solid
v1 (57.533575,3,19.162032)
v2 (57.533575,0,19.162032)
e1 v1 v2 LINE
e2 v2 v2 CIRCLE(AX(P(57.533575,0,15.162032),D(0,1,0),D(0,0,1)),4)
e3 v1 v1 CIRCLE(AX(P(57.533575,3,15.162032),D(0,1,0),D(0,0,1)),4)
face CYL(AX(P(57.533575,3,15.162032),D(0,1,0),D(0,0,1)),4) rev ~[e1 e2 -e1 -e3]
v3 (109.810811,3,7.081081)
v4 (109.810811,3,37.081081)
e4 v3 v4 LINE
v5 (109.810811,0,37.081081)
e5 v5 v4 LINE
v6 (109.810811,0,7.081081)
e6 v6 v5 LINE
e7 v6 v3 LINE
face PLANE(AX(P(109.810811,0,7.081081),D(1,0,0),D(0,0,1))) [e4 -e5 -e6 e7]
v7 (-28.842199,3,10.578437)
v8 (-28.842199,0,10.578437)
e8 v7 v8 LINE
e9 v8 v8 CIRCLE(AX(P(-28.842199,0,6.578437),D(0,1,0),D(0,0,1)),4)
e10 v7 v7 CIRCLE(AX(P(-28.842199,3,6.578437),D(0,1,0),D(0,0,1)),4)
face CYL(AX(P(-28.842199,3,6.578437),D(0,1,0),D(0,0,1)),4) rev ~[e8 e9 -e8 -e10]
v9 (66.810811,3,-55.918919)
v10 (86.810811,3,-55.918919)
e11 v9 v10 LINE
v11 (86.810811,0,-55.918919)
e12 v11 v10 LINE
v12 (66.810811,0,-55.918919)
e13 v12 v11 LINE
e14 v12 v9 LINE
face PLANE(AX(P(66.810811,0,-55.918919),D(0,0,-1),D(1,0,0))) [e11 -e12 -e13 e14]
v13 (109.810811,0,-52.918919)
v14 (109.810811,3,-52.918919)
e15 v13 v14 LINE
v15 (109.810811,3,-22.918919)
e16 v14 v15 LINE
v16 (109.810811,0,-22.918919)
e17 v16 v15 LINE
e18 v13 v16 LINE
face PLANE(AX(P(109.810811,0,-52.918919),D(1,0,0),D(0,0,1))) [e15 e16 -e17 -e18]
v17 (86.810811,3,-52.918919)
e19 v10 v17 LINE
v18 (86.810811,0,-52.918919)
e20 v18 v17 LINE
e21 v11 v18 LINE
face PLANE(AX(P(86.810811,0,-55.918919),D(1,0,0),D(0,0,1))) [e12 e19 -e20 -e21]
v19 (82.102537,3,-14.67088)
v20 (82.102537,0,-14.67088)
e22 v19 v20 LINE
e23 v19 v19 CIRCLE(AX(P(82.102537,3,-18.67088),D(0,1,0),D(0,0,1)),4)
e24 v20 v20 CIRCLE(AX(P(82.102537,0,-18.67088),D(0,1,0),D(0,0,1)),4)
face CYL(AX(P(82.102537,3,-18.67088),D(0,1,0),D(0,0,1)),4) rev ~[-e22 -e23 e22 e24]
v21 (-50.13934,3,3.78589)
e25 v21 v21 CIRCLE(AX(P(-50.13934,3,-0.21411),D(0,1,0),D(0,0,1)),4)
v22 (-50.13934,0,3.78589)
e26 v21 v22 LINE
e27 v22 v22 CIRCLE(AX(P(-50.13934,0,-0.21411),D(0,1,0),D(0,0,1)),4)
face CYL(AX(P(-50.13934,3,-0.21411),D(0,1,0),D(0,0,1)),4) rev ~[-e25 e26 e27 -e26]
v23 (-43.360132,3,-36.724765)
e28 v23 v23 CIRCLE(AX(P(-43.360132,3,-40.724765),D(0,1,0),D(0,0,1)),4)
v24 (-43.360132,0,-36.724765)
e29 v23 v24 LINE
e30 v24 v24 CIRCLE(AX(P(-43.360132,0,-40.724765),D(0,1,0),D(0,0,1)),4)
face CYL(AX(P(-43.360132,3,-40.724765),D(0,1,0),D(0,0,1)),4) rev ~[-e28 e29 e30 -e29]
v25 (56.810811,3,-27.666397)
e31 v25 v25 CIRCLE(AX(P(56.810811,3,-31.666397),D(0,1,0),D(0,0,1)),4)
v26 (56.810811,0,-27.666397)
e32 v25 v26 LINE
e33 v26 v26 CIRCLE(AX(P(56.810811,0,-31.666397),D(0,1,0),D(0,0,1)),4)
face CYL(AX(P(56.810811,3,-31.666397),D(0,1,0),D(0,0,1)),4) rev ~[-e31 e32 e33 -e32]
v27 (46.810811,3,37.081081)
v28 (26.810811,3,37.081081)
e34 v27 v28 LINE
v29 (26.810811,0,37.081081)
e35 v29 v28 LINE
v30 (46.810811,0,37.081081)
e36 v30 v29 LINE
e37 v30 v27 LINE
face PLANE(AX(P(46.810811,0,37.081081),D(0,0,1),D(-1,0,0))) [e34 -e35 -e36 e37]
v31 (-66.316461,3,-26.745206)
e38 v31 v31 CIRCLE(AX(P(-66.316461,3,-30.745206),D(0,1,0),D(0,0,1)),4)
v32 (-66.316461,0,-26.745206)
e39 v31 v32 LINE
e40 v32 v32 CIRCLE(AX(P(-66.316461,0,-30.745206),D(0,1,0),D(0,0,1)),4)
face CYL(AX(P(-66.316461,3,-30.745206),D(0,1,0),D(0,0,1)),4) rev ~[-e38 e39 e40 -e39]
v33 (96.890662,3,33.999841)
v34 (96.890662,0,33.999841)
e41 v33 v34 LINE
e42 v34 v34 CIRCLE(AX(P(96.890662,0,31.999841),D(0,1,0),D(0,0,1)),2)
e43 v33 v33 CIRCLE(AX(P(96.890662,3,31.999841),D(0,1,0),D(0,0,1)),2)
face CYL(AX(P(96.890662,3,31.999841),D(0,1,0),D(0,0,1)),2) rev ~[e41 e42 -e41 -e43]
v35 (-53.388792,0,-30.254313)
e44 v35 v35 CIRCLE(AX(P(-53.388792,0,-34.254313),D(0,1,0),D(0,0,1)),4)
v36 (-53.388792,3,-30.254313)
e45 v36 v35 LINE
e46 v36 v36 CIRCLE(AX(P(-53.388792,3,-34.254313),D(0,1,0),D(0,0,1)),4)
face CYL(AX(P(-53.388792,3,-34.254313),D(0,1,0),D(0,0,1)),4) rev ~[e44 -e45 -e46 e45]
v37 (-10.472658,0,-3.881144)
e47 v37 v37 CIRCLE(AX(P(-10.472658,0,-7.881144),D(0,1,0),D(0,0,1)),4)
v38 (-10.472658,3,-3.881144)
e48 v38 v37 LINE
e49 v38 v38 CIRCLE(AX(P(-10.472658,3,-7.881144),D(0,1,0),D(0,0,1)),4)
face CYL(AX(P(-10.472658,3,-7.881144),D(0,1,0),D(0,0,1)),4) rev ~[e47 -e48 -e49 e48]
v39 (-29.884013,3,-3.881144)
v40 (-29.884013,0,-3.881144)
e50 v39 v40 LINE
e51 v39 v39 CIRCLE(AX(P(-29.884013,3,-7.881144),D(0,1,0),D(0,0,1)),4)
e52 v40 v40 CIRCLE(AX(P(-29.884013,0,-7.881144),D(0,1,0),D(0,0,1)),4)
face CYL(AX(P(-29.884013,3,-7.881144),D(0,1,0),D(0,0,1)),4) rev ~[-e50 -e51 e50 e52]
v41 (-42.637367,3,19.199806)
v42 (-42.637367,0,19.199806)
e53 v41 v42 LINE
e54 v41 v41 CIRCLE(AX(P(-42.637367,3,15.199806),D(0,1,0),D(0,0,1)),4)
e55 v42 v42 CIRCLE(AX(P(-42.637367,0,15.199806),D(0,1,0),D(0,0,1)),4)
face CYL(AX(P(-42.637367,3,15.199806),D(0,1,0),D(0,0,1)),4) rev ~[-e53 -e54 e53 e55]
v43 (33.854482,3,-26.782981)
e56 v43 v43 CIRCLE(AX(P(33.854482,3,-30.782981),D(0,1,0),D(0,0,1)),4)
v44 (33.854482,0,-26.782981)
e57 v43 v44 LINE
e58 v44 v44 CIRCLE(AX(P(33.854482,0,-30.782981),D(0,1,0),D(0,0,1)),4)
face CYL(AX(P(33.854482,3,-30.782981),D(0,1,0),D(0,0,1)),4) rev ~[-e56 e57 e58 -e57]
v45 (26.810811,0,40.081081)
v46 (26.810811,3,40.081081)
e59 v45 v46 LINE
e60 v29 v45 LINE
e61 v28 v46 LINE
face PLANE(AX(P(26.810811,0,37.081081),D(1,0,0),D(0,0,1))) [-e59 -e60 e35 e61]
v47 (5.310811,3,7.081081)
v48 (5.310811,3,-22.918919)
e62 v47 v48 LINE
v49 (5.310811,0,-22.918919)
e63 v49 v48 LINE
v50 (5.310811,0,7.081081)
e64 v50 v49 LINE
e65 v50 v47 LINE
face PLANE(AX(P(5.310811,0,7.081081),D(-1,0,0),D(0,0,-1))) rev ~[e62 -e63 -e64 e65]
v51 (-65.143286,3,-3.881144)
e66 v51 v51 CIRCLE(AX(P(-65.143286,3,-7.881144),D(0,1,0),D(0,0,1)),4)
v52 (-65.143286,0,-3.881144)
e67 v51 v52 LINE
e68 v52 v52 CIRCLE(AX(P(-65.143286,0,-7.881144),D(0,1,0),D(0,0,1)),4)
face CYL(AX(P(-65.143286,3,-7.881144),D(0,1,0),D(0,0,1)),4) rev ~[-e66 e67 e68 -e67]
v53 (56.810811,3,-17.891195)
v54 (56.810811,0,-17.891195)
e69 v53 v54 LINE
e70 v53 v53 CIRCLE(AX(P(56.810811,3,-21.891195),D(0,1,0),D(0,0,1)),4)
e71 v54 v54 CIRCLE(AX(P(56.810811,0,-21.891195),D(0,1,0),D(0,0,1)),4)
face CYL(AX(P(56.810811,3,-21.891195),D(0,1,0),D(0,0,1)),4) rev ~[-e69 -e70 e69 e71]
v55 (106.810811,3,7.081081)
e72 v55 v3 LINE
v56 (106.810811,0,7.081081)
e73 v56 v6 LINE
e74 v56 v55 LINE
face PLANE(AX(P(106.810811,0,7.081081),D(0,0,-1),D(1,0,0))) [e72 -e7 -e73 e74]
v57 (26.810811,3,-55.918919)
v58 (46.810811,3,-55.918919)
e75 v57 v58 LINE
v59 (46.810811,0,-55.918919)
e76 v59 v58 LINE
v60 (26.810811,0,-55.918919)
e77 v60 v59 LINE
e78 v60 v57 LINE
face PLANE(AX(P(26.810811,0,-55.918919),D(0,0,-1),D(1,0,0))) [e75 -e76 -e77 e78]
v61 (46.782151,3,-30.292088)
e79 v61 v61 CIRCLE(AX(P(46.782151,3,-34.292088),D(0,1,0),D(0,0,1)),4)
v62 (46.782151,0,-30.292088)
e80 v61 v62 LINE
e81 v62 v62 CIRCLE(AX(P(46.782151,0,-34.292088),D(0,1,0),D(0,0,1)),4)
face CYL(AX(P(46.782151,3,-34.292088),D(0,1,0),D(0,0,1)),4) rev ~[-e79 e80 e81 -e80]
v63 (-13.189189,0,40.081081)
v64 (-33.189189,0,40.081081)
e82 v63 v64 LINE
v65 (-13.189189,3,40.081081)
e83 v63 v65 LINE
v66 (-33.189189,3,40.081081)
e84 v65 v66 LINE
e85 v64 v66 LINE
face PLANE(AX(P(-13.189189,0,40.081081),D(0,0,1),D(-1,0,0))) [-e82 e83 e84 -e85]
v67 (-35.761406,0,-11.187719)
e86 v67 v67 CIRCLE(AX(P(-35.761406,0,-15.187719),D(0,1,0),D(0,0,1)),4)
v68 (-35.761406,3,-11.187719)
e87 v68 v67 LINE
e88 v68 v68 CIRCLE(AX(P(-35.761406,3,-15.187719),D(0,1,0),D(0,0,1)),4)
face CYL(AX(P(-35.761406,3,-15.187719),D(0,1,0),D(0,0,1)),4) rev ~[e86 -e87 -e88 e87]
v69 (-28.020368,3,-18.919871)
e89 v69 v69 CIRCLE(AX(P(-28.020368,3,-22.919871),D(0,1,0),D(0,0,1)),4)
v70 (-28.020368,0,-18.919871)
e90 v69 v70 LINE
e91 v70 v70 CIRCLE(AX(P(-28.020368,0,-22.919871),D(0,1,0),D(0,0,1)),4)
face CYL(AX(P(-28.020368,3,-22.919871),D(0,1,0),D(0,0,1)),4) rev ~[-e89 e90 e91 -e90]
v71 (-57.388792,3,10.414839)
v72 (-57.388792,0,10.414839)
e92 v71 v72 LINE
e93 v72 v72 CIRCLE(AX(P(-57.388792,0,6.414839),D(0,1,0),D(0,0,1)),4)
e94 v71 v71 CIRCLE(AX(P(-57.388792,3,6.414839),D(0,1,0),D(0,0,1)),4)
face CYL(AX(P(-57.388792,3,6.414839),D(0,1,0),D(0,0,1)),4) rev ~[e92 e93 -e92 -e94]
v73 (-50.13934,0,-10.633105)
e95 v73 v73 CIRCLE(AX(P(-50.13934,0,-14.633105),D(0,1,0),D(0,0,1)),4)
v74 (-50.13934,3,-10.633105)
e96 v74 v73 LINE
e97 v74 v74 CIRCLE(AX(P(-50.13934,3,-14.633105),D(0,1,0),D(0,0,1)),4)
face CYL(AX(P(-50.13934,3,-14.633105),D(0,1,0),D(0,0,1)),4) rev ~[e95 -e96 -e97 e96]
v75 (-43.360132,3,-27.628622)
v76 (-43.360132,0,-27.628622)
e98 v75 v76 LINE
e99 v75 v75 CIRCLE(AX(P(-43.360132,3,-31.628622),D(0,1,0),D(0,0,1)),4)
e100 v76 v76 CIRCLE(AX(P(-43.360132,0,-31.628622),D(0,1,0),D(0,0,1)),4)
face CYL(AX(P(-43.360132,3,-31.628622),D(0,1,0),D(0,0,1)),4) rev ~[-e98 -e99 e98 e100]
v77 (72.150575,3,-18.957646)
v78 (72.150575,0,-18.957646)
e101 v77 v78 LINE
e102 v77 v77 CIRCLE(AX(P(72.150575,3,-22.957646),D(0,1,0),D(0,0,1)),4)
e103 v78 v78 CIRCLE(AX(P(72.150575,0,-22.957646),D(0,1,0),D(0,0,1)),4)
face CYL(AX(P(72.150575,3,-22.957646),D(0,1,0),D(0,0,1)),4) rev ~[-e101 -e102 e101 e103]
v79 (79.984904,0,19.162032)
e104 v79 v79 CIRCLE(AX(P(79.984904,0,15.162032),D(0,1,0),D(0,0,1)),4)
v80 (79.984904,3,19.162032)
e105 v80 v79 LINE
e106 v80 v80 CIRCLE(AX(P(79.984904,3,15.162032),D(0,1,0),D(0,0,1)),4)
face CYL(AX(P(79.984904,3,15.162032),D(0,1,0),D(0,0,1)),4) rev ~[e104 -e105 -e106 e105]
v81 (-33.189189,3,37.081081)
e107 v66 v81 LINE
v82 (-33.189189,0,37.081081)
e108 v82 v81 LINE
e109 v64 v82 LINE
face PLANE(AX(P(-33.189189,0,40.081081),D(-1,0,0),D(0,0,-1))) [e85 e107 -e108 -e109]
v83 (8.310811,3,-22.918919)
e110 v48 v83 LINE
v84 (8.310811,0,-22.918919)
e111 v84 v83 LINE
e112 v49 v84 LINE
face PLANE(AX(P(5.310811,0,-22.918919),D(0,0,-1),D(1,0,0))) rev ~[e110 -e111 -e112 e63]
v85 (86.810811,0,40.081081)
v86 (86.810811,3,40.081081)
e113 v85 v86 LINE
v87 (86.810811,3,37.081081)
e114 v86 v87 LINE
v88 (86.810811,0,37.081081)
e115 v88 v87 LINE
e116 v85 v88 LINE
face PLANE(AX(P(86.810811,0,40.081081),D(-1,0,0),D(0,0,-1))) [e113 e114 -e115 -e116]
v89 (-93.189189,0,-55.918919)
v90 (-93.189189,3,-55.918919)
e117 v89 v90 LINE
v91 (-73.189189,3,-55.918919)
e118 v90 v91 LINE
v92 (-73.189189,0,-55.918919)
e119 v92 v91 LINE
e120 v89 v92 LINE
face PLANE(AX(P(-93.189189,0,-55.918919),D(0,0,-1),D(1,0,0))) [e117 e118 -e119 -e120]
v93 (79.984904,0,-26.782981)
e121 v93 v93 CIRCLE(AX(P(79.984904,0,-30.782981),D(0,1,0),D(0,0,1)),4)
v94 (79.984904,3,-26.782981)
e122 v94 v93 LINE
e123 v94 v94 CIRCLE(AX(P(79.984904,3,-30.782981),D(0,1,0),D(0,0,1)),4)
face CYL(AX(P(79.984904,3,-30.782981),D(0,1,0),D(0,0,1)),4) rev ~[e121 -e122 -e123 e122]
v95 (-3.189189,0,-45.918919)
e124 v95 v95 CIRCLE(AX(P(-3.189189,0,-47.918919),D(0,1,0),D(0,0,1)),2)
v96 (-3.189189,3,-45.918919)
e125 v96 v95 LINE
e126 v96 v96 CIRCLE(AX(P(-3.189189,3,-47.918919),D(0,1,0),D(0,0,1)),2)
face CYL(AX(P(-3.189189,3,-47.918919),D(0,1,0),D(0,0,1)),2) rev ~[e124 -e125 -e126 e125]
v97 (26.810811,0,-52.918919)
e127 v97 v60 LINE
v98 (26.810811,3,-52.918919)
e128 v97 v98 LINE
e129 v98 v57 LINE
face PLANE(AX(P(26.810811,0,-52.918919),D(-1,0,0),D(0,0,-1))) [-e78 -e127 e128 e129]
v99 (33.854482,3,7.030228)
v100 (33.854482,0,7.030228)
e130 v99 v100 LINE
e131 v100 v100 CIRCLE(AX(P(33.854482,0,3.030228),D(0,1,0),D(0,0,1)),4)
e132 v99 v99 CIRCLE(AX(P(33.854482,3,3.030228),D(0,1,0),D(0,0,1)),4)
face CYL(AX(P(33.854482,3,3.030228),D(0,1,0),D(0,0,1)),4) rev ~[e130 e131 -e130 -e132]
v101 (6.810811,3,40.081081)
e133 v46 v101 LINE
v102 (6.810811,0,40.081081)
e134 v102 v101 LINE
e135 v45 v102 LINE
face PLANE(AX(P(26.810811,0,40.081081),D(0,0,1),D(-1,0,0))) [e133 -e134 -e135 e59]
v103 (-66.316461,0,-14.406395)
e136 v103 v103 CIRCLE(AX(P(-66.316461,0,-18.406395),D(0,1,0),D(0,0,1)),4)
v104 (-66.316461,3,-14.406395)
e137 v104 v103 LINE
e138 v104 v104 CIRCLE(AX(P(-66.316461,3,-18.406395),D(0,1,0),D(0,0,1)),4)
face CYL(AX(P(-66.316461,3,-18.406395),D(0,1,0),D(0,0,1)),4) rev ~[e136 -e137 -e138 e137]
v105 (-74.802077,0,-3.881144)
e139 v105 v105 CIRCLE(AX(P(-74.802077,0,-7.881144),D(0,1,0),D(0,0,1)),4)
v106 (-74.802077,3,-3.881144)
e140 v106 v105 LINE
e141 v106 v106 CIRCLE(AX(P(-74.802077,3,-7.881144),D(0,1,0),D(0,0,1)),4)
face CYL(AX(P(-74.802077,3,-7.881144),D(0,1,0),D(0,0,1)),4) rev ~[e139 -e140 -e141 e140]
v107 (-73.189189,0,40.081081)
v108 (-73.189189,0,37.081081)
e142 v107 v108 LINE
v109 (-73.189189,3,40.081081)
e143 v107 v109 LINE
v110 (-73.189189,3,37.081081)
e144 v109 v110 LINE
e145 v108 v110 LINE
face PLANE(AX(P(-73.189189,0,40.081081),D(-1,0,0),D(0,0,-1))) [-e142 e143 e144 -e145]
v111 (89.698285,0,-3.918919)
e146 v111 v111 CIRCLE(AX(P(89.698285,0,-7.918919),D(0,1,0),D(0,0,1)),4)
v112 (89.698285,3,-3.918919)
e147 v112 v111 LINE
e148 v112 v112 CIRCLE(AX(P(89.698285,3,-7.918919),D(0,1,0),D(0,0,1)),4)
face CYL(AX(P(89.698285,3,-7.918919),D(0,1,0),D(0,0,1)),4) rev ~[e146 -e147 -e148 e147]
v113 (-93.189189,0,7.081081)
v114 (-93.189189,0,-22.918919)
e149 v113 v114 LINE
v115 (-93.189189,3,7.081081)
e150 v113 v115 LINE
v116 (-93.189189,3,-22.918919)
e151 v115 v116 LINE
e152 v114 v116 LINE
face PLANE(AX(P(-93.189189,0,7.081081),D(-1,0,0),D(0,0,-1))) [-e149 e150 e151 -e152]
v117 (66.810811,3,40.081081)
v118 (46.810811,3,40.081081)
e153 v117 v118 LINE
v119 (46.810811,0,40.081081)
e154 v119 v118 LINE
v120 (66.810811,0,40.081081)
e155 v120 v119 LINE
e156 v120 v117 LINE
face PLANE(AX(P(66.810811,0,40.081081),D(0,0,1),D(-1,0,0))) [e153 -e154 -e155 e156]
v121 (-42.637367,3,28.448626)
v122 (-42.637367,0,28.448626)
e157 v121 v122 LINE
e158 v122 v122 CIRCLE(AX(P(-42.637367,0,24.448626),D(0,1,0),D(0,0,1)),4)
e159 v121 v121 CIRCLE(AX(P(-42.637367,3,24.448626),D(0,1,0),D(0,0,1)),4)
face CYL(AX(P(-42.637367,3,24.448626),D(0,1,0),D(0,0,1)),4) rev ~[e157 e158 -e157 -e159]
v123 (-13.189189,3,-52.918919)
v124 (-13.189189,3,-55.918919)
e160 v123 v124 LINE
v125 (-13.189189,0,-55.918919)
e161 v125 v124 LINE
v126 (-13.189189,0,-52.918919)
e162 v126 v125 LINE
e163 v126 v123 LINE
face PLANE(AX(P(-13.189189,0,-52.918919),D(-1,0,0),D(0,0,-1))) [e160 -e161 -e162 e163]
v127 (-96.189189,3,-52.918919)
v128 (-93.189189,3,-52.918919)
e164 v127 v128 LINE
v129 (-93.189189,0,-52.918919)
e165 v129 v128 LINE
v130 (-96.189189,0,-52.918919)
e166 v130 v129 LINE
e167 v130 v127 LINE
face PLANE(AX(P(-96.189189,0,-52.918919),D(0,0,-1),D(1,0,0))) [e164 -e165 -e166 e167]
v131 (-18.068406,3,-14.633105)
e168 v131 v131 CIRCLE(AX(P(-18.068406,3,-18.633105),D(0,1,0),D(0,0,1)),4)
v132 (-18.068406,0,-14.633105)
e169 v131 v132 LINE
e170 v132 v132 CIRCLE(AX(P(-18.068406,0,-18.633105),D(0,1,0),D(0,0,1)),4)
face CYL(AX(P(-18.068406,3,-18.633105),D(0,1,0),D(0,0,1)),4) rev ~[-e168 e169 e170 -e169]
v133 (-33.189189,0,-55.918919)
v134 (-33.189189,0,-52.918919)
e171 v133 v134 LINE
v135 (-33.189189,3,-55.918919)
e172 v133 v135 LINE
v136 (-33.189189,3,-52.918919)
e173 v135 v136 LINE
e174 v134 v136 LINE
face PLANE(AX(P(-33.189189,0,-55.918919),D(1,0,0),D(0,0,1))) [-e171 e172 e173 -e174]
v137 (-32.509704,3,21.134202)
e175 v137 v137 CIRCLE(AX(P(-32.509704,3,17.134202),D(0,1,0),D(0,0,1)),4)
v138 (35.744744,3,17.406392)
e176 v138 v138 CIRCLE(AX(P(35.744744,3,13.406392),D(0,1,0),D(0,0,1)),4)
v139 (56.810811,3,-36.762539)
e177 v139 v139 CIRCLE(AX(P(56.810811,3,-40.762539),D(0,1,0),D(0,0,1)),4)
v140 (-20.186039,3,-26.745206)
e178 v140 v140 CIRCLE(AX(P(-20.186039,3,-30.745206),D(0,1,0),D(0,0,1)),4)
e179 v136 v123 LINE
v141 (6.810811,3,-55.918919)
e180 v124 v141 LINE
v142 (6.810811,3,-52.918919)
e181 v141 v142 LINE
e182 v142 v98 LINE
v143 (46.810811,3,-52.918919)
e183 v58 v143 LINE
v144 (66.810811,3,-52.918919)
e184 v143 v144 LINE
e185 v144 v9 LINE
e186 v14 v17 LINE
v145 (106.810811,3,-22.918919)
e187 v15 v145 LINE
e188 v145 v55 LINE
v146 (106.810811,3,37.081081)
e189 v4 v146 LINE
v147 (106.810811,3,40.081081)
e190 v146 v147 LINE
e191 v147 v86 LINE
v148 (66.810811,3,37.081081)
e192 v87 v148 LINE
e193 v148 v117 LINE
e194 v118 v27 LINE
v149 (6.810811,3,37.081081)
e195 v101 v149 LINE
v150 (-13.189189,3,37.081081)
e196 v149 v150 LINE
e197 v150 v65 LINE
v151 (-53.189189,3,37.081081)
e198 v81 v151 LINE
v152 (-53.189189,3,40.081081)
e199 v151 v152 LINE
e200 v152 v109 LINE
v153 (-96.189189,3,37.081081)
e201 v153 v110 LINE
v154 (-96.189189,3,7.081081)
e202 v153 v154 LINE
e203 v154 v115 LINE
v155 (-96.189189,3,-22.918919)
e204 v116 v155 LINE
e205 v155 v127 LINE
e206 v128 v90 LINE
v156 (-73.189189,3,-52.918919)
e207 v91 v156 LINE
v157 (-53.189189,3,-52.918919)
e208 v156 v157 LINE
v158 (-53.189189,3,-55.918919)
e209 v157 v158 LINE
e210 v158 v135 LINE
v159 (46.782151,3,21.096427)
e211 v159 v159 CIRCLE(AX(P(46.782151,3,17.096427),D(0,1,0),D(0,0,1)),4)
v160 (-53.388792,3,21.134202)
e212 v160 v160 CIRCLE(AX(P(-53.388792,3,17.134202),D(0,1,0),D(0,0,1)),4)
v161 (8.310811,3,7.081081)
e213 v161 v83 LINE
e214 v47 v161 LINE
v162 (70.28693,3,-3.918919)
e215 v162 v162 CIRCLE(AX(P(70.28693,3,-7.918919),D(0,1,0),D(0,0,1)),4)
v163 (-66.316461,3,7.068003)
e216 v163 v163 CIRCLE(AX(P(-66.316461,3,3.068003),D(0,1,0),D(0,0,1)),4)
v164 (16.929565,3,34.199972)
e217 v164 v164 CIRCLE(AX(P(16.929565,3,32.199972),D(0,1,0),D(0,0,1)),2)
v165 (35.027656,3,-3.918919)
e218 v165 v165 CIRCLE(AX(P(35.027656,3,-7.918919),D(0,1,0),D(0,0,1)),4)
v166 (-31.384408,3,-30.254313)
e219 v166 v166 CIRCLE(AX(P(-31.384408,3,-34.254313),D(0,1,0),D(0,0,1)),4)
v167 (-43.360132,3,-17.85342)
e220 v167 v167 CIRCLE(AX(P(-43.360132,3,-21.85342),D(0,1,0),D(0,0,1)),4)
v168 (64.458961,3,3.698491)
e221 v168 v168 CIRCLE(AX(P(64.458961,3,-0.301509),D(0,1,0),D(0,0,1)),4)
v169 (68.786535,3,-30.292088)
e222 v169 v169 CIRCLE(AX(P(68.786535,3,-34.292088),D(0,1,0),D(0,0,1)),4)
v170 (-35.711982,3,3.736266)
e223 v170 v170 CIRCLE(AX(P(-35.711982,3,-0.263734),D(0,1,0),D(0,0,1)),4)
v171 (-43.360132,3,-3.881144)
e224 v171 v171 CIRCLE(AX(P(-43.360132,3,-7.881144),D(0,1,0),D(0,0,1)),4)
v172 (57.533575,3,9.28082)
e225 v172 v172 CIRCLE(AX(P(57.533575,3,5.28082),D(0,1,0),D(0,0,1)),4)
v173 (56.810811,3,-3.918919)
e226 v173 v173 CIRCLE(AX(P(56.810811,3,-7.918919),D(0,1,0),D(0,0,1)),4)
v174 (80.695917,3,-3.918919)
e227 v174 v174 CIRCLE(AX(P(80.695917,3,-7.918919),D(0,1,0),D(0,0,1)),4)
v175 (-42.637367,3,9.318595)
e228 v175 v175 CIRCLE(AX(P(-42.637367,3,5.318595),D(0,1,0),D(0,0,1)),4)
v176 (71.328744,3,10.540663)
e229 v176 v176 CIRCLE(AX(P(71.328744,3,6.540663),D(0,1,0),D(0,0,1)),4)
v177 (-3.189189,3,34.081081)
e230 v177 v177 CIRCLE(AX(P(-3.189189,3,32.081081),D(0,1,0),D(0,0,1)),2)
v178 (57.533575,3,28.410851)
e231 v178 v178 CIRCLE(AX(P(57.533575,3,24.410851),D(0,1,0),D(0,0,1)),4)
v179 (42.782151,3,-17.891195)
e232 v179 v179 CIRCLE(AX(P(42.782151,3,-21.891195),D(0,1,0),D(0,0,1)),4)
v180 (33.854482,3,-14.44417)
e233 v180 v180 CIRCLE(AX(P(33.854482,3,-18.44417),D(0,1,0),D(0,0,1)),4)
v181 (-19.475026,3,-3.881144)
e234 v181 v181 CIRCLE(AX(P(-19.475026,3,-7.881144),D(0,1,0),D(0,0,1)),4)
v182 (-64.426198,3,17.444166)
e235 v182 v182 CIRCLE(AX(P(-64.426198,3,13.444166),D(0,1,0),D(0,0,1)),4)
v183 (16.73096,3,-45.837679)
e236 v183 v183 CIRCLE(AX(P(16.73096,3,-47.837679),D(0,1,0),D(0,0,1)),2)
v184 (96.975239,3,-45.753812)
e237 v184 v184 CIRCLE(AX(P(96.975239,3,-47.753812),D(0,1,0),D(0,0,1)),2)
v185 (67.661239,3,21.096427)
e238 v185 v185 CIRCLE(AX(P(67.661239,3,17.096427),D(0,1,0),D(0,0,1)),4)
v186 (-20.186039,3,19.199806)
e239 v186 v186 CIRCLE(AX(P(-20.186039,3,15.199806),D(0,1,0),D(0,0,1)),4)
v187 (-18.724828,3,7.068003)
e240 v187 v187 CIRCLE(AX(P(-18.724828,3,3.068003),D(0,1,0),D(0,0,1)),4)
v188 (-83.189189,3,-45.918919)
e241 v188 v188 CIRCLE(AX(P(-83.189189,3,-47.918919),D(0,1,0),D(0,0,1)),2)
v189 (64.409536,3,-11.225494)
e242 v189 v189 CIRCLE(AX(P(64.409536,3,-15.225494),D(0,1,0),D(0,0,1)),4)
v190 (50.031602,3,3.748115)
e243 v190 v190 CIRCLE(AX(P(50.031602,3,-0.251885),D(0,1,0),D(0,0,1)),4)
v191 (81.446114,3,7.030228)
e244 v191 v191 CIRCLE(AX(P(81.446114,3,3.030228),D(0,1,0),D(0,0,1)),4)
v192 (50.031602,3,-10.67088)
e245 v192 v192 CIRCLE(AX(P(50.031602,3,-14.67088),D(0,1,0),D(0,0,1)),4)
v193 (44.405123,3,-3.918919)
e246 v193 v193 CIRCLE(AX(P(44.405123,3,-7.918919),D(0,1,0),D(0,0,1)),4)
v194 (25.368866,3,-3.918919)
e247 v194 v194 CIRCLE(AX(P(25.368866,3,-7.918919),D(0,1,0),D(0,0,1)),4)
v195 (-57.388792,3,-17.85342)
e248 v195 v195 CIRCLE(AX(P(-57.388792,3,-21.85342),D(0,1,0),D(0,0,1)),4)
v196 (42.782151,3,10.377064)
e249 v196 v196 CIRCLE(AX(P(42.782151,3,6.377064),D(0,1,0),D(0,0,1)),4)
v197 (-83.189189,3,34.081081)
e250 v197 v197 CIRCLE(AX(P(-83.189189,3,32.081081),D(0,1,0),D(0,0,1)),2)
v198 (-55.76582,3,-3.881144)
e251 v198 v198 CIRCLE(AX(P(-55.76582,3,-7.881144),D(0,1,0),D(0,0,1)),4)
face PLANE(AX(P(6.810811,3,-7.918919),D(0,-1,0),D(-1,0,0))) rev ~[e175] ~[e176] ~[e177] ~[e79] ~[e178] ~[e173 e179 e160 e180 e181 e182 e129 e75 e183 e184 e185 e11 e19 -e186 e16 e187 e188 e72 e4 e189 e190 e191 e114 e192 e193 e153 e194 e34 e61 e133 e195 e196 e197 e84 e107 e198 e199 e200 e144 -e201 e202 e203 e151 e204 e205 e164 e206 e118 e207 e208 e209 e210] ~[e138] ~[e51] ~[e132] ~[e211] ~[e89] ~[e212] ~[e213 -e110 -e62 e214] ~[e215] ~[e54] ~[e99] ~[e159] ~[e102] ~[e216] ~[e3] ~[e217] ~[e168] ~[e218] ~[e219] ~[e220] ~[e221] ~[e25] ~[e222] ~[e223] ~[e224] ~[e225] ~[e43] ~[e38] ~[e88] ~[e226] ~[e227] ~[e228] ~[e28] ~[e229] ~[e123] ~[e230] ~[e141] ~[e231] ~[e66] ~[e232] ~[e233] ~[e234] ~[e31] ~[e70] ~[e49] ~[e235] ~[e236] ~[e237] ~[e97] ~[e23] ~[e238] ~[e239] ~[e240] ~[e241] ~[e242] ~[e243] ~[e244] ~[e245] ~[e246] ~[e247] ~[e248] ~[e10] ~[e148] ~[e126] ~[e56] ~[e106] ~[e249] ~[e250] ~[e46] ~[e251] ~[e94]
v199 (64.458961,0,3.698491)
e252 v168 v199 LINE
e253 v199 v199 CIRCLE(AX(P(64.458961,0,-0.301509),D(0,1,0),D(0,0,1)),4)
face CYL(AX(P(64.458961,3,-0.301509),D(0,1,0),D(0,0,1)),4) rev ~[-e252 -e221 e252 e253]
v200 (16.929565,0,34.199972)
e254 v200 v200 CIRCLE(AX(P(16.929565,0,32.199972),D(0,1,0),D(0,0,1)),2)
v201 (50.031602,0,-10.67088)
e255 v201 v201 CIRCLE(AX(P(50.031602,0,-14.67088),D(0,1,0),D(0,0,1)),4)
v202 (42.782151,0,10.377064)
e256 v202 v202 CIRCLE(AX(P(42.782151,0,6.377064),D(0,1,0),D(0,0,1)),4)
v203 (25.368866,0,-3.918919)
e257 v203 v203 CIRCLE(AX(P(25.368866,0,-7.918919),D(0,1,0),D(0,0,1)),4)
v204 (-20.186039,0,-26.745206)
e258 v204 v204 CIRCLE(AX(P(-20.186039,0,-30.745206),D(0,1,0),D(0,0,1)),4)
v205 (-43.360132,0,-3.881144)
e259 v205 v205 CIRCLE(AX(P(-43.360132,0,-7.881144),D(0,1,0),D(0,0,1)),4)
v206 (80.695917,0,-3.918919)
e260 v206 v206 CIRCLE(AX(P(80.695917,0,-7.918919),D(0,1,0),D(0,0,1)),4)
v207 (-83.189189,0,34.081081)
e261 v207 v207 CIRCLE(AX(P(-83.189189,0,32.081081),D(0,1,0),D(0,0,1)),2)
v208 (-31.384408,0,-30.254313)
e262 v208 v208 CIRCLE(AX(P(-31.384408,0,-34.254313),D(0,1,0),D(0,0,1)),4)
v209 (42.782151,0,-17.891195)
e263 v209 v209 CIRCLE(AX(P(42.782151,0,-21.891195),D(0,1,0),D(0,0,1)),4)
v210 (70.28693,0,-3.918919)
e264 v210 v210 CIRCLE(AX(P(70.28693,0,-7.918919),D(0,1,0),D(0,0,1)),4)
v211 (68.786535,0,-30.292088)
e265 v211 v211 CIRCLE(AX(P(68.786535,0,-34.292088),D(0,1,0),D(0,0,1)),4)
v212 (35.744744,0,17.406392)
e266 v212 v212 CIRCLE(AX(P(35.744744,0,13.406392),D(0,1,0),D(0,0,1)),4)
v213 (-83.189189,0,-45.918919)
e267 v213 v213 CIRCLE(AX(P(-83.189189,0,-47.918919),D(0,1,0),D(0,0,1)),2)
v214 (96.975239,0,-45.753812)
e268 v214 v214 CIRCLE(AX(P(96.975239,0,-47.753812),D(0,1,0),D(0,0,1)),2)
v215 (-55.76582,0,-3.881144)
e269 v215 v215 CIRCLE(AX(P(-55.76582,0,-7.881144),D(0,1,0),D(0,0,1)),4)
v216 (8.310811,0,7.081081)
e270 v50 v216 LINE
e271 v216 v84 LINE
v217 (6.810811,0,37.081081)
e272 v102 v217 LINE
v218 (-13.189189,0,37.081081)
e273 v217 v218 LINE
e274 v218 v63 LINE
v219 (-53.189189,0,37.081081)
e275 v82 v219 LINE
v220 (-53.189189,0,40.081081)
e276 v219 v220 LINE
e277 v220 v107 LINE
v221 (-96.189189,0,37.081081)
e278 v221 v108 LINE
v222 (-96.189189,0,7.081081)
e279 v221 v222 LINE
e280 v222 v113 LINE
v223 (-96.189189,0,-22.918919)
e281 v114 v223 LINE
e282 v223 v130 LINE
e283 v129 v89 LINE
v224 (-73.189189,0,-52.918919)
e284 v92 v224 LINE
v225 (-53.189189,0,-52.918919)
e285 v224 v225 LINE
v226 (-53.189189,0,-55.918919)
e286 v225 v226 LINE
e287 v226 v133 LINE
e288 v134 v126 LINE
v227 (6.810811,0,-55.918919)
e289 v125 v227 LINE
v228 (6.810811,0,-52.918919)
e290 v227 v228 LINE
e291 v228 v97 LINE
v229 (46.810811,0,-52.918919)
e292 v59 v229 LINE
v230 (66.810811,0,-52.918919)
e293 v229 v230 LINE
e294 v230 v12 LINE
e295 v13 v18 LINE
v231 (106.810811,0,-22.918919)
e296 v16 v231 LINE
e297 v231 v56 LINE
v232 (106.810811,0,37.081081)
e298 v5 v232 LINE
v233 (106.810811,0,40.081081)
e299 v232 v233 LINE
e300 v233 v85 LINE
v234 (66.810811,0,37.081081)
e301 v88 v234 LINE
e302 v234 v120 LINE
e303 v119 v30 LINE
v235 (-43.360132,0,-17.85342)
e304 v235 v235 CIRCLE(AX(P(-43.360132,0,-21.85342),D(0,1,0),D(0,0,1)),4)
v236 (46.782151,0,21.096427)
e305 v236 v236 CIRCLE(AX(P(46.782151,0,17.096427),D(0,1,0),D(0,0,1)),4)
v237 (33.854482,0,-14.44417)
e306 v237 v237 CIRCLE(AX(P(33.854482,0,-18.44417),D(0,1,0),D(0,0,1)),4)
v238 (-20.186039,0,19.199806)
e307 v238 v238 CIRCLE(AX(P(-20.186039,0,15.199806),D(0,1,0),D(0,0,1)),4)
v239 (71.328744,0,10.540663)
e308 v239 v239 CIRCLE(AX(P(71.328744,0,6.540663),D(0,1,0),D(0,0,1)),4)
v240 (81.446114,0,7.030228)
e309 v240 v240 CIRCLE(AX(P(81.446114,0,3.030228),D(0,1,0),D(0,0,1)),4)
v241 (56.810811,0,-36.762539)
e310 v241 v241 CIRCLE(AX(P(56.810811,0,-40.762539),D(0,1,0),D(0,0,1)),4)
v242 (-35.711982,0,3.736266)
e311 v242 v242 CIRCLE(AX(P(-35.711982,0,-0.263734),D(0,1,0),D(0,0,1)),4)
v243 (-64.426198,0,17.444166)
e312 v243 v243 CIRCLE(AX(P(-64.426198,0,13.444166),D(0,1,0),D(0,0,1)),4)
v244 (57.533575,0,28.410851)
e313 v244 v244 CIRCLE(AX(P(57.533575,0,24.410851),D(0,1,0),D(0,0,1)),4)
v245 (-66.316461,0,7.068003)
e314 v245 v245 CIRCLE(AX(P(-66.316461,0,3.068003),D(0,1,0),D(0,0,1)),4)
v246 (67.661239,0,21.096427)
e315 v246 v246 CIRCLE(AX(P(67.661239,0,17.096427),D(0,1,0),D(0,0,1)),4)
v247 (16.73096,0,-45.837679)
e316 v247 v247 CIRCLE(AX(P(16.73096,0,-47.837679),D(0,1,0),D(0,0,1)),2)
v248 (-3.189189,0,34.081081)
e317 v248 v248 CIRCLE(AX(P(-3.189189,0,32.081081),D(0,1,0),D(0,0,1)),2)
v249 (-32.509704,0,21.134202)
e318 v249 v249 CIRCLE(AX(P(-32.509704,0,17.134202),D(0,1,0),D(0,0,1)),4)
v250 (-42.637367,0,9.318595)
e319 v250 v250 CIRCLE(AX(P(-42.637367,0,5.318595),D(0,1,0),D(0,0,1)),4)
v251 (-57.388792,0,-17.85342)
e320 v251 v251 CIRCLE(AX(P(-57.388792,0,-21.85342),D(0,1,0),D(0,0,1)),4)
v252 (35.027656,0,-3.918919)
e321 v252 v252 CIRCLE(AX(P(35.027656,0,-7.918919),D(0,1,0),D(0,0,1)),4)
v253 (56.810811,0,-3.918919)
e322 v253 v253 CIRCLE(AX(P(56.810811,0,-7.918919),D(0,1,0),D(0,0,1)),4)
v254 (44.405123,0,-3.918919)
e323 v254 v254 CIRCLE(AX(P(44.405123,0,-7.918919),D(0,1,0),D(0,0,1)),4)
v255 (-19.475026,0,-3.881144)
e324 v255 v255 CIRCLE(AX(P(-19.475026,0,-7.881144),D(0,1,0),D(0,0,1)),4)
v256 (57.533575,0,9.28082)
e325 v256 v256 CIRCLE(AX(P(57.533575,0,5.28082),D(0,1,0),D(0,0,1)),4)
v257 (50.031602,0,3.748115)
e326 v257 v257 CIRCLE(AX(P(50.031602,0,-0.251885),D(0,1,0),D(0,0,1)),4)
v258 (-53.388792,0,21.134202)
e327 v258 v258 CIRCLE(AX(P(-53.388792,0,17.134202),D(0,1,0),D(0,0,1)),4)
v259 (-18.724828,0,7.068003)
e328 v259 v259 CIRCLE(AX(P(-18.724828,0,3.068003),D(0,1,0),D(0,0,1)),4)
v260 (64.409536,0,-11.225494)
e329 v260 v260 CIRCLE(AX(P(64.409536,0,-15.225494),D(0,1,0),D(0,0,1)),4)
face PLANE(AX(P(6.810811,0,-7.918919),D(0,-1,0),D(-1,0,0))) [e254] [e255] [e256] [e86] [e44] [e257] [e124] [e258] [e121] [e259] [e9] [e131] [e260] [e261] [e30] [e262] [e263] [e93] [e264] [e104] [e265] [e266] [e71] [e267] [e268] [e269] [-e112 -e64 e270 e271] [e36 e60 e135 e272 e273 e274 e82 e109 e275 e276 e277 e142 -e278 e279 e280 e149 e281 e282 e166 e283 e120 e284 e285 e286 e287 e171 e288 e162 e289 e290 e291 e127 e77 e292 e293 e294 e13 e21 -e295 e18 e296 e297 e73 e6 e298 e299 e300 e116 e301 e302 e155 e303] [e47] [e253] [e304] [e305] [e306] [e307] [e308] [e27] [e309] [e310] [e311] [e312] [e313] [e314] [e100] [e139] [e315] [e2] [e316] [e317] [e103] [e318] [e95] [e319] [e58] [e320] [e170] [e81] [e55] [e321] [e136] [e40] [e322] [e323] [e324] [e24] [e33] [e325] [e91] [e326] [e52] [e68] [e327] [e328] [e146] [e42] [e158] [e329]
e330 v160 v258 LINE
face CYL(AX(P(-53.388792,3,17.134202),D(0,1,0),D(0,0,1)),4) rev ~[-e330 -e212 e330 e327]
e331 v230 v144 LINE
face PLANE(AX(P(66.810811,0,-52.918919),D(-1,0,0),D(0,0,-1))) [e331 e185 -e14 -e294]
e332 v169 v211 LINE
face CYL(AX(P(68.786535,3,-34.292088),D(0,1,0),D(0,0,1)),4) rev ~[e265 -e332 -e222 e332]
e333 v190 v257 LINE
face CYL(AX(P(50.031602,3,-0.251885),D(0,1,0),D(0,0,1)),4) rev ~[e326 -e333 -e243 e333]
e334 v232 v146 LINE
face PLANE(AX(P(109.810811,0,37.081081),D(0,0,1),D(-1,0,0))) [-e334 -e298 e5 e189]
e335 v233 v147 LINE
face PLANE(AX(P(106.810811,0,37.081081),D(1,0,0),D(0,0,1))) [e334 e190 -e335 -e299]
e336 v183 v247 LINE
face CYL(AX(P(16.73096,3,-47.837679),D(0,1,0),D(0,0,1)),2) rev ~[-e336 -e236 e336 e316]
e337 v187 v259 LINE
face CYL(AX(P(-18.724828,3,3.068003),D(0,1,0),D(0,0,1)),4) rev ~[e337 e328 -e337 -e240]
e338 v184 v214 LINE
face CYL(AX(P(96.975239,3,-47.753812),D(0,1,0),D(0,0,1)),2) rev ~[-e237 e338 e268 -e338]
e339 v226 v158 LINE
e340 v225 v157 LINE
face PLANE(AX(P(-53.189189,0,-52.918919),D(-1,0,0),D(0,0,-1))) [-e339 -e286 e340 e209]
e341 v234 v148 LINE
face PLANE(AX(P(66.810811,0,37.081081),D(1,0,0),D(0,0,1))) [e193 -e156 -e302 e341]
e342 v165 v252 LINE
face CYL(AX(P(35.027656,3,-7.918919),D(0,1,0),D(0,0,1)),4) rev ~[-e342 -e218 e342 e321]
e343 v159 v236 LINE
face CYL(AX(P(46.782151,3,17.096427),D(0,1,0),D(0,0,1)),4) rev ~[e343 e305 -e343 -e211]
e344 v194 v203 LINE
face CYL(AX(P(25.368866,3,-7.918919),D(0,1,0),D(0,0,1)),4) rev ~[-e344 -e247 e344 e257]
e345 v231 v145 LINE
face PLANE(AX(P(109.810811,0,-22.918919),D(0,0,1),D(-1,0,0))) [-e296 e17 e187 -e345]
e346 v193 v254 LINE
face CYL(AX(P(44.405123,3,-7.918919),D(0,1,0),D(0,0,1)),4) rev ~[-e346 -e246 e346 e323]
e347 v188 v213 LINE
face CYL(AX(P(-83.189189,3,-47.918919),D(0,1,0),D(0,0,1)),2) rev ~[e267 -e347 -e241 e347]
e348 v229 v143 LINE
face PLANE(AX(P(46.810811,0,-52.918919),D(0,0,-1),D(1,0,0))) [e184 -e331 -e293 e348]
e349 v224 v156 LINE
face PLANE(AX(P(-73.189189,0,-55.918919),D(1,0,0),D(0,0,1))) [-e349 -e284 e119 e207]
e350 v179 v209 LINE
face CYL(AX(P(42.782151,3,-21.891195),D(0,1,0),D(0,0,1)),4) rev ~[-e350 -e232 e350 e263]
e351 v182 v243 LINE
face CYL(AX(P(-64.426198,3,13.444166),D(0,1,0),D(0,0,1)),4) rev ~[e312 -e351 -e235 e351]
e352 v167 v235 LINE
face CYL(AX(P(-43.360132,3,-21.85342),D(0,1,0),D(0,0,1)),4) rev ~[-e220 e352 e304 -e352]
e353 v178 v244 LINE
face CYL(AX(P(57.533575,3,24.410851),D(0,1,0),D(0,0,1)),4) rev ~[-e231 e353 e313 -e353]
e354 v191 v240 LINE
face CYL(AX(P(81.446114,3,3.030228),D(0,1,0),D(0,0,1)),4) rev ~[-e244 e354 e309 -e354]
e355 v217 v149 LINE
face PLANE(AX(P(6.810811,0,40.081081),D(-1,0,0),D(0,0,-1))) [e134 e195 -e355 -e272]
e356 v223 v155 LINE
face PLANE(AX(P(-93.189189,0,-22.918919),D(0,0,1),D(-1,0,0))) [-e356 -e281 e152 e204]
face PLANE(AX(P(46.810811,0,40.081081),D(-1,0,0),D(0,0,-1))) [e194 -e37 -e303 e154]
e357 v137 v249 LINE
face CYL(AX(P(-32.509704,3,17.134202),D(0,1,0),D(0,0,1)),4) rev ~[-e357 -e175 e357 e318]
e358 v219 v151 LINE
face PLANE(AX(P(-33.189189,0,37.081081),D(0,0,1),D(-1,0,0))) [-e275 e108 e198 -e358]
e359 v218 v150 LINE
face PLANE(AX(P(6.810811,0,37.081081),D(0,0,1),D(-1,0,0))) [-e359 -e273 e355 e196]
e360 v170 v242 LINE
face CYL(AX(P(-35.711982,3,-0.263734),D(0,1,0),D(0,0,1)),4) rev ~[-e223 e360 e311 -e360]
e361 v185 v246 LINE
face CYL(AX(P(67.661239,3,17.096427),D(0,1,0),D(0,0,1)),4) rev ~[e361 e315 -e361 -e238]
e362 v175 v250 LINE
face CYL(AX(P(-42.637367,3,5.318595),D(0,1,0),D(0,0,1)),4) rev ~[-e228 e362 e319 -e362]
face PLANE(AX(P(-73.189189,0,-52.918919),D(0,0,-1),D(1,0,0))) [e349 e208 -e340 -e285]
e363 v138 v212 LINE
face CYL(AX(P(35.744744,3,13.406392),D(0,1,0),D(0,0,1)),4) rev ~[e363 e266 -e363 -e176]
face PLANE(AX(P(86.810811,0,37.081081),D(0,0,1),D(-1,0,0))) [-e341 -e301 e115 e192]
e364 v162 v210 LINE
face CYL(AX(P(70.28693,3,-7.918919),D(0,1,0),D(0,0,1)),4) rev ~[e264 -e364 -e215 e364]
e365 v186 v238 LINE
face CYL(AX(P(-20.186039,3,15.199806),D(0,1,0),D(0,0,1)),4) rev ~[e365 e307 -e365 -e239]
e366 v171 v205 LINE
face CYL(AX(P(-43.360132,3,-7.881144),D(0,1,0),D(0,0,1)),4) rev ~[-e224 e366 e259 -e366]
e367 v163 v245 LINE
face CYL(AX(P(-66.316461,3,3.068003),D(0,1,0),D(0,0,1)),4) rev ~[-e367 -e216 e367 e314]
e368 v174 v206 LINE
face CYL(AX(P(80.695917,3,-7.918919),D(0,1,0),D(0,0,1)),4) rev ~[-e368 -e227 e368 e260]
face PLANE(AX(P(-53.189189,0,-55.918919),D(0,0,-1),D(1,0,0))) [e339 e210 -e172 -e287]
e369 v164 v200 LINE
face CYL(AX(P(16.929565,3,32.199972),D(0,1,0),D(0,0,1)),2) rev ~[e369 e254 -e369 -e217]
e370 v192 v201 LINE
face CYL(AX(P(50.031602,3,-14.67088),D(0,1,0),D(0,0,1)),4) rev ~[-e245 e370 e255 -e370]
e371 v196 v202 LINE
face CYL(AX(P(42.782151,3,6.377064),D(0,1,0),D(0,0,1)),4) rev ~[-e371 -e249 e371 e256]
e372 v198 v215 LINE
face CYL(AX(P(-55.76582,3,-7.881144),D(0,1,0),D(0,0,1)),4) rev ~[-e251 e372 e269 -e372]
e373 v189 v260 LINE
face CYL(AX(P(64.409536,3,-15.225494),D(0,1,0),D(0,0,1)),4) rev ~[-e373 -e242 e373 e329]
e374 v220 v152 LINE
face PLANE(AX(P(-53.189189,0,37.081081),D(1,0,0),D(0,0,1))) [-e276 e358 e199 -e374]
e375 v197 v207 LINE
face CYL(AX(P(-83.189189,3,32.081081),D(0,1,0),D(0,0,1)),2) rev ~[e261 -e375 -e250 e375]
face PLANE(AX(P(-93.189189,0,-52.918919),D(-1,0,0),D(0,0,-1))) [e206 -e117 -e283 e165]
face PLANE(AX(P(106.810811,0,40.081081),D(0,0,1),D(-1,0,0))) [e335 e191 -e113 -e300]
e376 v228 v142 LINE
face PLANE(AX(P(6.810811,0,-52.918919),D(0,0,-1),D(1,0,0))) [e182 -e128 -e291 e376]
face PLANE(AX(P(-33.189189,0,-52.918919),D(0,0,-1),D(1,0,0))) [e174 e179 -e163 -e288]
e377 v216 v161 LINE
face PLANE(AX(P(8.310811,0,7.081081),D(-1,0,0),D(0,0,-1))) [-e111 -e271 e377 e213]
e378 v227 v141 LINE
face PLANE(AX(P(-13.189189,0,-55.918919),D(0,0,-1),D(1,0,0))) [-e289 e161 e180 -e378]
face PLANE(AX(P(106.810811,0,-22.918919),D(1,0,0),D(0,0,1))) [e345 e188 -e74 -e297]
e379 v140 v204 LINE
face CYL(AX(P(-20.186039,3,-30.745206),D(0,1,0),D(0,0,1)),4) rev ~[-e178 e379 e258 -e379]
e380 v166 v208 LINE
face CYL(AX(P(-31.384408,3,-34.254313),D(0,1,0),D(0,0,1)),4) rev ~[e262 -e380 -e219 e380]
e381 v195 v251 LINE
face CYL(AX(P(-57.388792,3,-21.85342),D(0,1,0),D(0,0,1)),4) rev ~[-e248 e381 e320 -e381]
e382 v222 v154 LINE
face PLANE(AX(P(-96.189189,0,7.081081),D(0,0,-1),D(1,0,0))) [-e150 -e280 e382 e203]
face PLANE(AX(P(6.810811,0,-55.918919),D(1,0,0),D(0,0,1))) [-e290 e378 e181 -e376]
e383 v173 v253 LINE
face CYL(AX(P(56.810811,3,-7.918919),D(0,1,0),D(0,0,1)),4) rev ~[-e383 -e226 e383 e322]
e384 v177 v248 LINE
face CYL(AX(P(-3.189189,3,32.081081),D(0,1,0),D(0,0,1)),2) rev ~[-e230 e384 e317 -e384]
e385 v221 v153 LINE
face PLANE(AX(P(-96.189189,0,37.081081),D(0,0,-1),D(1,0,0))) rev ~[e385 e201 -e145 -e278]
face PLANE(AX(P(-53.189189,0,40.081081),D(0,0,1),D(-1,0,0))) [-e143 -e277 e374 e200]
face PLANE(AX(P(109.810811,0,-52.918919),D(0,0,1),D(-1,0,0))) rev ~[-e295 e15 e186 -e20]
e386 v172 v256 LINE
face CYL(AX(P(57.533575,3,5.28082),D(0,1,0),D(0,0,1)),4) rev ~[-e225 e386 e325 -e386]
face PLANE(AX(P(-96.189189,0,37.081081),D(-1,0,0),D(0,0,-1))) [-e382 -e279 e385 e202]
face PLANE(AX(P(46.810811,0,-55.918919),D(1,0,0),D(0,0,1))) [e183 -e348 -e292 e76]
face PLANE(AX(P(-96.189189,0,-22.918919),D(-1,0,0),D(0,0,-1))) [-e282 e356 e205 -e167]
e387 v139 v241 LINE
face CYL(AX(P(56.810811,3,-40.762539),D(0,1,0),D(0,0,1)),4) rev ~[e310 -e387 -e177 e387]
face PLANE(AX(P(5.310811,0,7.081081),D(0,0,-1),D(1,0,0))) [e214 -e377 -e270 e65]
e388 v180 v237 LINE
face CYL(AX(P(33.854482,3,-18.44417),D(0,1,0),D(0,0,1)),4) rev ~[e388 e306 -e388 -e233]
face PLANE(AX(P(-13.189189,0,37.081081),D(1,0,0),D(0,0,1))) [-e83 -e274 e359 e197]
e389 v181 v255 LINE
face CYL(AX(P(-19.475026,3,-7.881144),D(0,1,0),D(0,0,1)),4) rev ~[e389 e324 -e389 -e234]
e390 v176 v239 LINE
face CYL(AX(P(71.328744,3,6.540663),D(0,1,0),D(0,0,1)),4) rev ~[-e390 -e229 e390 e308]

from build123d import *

# Parameters (mm, degrees)
SKETCH1_W           = 3
SKETCH1_H           = 30
BOSS_EXTRUDE1_DEPTH = 3
SKETCH2_R           = 2
SKETCH2_R_2         = 4
CUT_EXTRUDE1_DEPTH  = 3


with BuildPart() as part:
    # Sketch1 → Boss-Extrude1 (new body)
    with BuildSketch(Plane(origin=(0, 0, 0), x_dir=(1, 0, 0), z_dir=(0, 1, 0))):
        Polygon((-53.189189189, 52.918918919), (-53.189189189, 55.918918919), (-33.189189189, 55.918918919), (-33.189189189, 52.918918919), (-13.189189189, 52.918918919), (-13.189189189, 55.918918919), (6.810810811, 55.918918919), (6.810810811, 52.918918919), (26.810810811, 52.918918919), (26.810810811, 55.918918919), (46.810810811, 55.918918919), (46.810810811, 52.918918919), (66.810810811, 52.918918919), (66.810810811, 55.918918919), (86.810810811, 55.918918919), (86.810810811, 52.918918919), (106.810810811, 52.918918919), (109.810810811, 52.918918919), (109.810810811, 22.918918919), (106.810810811, 22.918918919), (106.810810811, -7.081081081), (109.810810811, -7.081081081), (109.810810811, -37.081081081), (106.810810811, -37.081081081), (106.810810811, -40.081081081), (86.810810811, -40.081081081), (86.810810811, -37.081081081), (66.810810811, -37.081081081), (66.810810811, -40.081081081), (46.810810811, -40.081081081), (46.810810811, -37.081081081), (26.810810811, -37.081081081), (26.810810811, -40.081081081), (6.810810811, -40.081081081), (6.810810811, -37.081081081), (-13.189189189, -37.081081081), (-13.189189189, -40.081081081), (-33.189189189, -40.081081081), (-33.189189189, -37.081081081), (-53.189189189, -37.081081081), (-53.189189189, -40.081081081), (-73.189189189, -40.081081081), (-73.189189189, -37.081081081), (-93.189189189, -37.081081081), (-96.189189189, -37.081081081), (-96.189189189, -7.081081081), (-93.189189189, -7.081081081), (-93.189189189, 22.918918919), (-96.189189189, 22.918918919), (-96.189189189, 52.918918919), (-93.189189189, 52.918918919), (-93.189189189, 55.918918919), (-73.189189189, 55.918918919), (-73.189189189, 52.918918919), align=None)
        with Locations((6.810810811, 7.918918919)):
            Rectangle(SKETCH1_W, SKETCH1_H, mode=Mode.SUBTRACT)
    extrude(amount=BOSS_EXTRUDE1_DEPTH)

    # Sketch2 → Cut-Extrude1 (cut)
    with BuildSketch(Plane(origin=(0, 3, 0), x_dir=(1, 0, 0), z_dir=(0, 1, 0))):
        with Locations(Location((-83.189189189, 47.918918919, 0), (0, 0, 270))):
            Circle(SKETCH2_R)
        with Locations(Location((-83.189189189, -32.081081081, 0), (0, 0, 270))):
            Circle(SKETCH2_R)
        with Locations(Location((-3.189189189, 47.918918919, 0), (0, 0, 270))):
            Circle(SKETCH2_R)
        with Locations(Location((-3.189189189, -32.081081081, 0), (0, 0, 270))):
            Circle(SKETCH2_R)
        with Locations(Location((96.97523931, 47.753811706, 0), (0, 0, 270))):
            Circle(SKETCH2_R)
        with Locations(Location((96.890661701, -31.999841307, 0), (0, 0, 270))):
            Circle(SKETCH2_R)
        with Locations(Location((16.73095992, 47.837679145, 0), (0, 0, 270))):
            Circle(SKETCH2_R)
        with Locations(Location((16.92956487, -32.199971625, 0), (0, 0, 270))):
            Circle(SKETCH2_R)
        with Locations(Location((64.409536285, 15.225493569, 0), (0, 0, 270))):
            Circle(SKETCH2_R_2)
        with Locations(Location((64.458960542, 0.301508961, 0), (0, 0, 270))):
            Circle(SKETCH2_R_2)
        with Locations(Location((72.150575188, 22.957645887, 0), (0, 0, 270))):
            Circle(SKETCH2_R_2)
        with Locations(Location((79.984903702, 30.782980722, 0), (0, 0, 270))):
            Circle(SKETCH2_R_2)
        with Locations(Location((42.782150533, -6.377064303, 0), (0, 0, 270))):
            Circle(SKETCH2_R_2)
        with Locations(Location((35.744744462, -13.406391548, 0), (0, 0, 270))):
            Circle(SKETCH2_R_2)
        with Locations(Location((50.031602385, 0.251885254, 0), (0, 0, 270))):
            Circle(SKETCH2_R_2)
        with Locations(Location((71.328743505, -6.540662674, 0), (0, 0, 270))):
            Circle(SKETCH2_R_2)
        with Locations(Location((56.810810811, 7.918918919, 0), (0, 0, 270))):
            Circle(SKETCH2_R_2)
        with Locations(Location((79.984903702, -15.162031659, 0), (0, 0, 270))):
            Circle(SKETCH2_R_2)
        with Locations(Location((50.031602385, 14.670880058, 0), (0, 0, 270))):
            Circle(SKETCH2_R_2)
        with Locations(Location((42.782150533, 21.891194601, 0), (0, 0, 270))):
            Circle(SKETCH2_R_2)
        with Locations(Location((33.854481941, 30.782980722, 0), (0, 0, 270))):
            Circle(SKETCH2_R_2)
        with Locations(Location((70.286929504, 7.918918919, 0), (0, 0, 270))):
            Circle(SKETCH2_R_2)
        with Locations(Location((80.695917052, 7.918918919, 0), (0, 0, 270))):
            Circle(SKETCH2_R_2)
        with Locations(Location((89.69828466, 7.918918919, 0), (0, 0, 270))):
            Circle(SKETCH2_R_2)
        with Locations(Location((35.027656371, 7.918918919, 0), (0, 0, 270))):
            Circle(SKETCH2_R_2)
        with Locations(Location((44.40512263, 7.918918919, 0), (0, 0, 270))):
            Circle(SKETCH2_R_2)
        with Locations(Location((25.368866125, 7.918918919, 0), (0, 0, 270))):
            Circle(SKETCH2_R_2)
        with Locations(Location((57.533575392, -5.280819839, 0), (0, 0, 270))):
            Circle(SKETCH2_R_2)
        with Locations(Location((57.533575392, -15.162031659, 0), (0, 0, 270))):
            Circle(SKETCH2_R_2)
        with Locations(Location((57.533575392, -24.410851007, 0), (0, 0, 270))):
            Circle(SKETCH2_R_2)
        with Locations(Location((56.810810811, 21.891194601, 0), (0, 0, 270))):
            Circle(SKETCH2_R_2)
        with Locations(Location((56.810810811, 31.666397221, 0), (0, 0, 270))):
            Circle(SKETCH2_R_2)
        with Locations(Location((56.810810811, 40.762539492, 0), (0, 0, 270))):
            Circle(SKETCH2_R_2)
        with Locations(Location((33.854481941, 18.444169796, 0), (0, 0, 270))):
            Circle(SKETCH2_R_2)
        with Locations(Location((46.782150533, 34.292087773, 0), (0, 0, 270))):
            Circle(SKETCH2_R_2)
        with Locations(Location((68.786534903, 34.292087773, 0), (0, 0, 270))):
            Circle(SKETCH2_R_2)
        with Locations(Location((82.102536991, 18.670880058, 0), (0, 0, 270))):
            Circle(SKETCH2_R_2)
        with Locations(Location((81.446114352, -3.030227937, 0), (0, 0, 270))):
            Circle(SKETCH2_R_2)
        with Locations(Location((67.661238952, -17.096427325, 0), (0, 0, 270))):
            Circle(SKETCH2_R_2)
        with Locations(Location((46.782150533, -17.096427325, 0), (0, 0, 270))):
            Circle(SKETCH2_R_2)
        with Locations(Location((33.854481941, -3.030227937, 0), (0, 0, 270))):
            Circle(SKETCH2_R_2)
        with Locations(Location((-35.761406417, 15.18771879, 0), (0, 0, 270))):
            Circle(SKETCH2_R_2)
        with Locations(Location((-35.71198216, 0.263734182, 0), (0, 0, 270))):
            Circle(SKETCH2_R_2)
        with Locations(Location((-28.020367515, 22.919871108, 0), (0, 0, 270))):
            Circle(SKETCH2_R_2)
        with Locations(Location((-20.186039001, 30.745205943, 0), (0, 0, 270))):
            Circle(SKETCH2_R_2)
        with Locations(Location((-57.388792169, -6.414839082, 0), (0, 0, 270))):
            Circle(SKETCH2_R_2)
        with Locations(Location((-64.42619824, -13.444166327, 0), (0, 0, 270))):
            Circle(SKETCH2_R_2)
        with Locations(Location((-50.139340317, 0.214110475, 0), (0, 0, 270))):
            Circle(SKETCH2_R_2)
        with Locations(Location((-28.842199198, -6.578437453, 0), (0, 0, 270))):
            Circle(SKETCH2_R_2)
        with Locations(Location((-43.360131891, 7.88114414, 0), (0, 0, 270))):
            Circle(SKETCH2_R_2)
        with Locations(Location((-20.186039001, -15.199806438, 0), (0, 0, 270))):
            Circle(SKETCH2_R_2)
        with Locations(Location((-50.139340317, 14.633105278, 0), (0, 0, 270))):
            Circle(SKETCH2_R_2)
        with Locations(Location((-57.388792169, 21.853419822, 0), (0, 0, 270))):
            Circle(SKETCH2_R_2)
        with Locations(Location((-66.316460761, 30.745205943, 0), (0, 0, 270))):
            Circle(SKETCH2_R_2)
        with Locations(Location((-29.884013198, 7.88114414, 0), (0, 0, 270))):
            Circle(SKETCH2_R_2)
        with Locations(Location((-19.475025651, 7.88114414, 0), (0, 0, 270))):
            Circle(SKETCH2_R_2)
        with Locations(Location((-10.472658042, 7.88114414, 0), (0, 0, 270))):
            Circle(SKETCH2_R_2)
        with Locations(Location((-65.143286331, 7.88114414, 0), (0, 0, 270))):
            Circle(SKETCH2_R_2)
        with Locations(Location((-55.765820072, 7.88114414, 0), (0, 0, 270))):
            Circle(SKETCH2_R_2)
        with Locations(Location((-74.802076578, 7.88114414, 0), (0, 0, 270))):
            Circle(SKETCH2_R_2)
        with Locations(Location((-42.63736731, -5.318594618, 0), (0, 0, 270))):
            Circle(SKETCH2_R_2)
        with Locations(Location((-42.63736731, -15.199806438, 0), (0, 0, 270))):
            Circle(SKETCH2_R_2)
        with Locations(Location((-42.63736731, -24.448625786, 0), (0, 0, 270))):
            Circle(SKETCH2_R_2)
        with Locations(Location((-43.360131891, 21.853419822, 0), (0, 0, 270))):
            Circle(SKETCH2_R_2)
        with Locations(Location((-43.360131891, 31.628622442, 0), (0, 0, 270))):
            Circle(SKETCH2_R_2)
        with Locations(Location((-43.360131891, 40.724764713, 0), (0, 0, 270))):
            Circle(SKETCH2_R_2)
        with Locations(Location((-66.316460761, 18.406395017, 0), (0, 0, 270))):
            Circle(SKETCH2_R_2)
        with Locations(Location((-53.388792169, 34.254312994, 0), (0, 0, 270))):
            Circle(SKETCH2_R_2)
        with Locations(Location((-31.384407799, 34.254312994, 0), (0, 0, 270))):
            Circle(SKETCH2_R_2)
        with Locations(Location((-18.068405712, 18.633105278, 0), (0, 0, 270))):
            Circle(SKETCH2_R_2)
        with Locations(Location((-18.72482835, -3.068002716, 0), (0, 0, 270))):
            Circle(SKETCH2_R_2)
        with Locations(Location((-32.50970375, -17.134202104, 0), (0, 0, 270))):
            Circle(SKETCH2_R_2)
        with Locations(Location((-53.388792169, -17.134202104, 0), (0, 0, 270))):
            Circle(SKETCH2_R_2)
        with Locations(Location((-66.316460761, -3.068002716, 0), (0, 0, 270))):
            Circle(SKETCH2_R_2)
    extrude(amount=-CUT_EXTRUDE1_DEPTH, mode=Mode.SUBTRACT)


solid = part.part
